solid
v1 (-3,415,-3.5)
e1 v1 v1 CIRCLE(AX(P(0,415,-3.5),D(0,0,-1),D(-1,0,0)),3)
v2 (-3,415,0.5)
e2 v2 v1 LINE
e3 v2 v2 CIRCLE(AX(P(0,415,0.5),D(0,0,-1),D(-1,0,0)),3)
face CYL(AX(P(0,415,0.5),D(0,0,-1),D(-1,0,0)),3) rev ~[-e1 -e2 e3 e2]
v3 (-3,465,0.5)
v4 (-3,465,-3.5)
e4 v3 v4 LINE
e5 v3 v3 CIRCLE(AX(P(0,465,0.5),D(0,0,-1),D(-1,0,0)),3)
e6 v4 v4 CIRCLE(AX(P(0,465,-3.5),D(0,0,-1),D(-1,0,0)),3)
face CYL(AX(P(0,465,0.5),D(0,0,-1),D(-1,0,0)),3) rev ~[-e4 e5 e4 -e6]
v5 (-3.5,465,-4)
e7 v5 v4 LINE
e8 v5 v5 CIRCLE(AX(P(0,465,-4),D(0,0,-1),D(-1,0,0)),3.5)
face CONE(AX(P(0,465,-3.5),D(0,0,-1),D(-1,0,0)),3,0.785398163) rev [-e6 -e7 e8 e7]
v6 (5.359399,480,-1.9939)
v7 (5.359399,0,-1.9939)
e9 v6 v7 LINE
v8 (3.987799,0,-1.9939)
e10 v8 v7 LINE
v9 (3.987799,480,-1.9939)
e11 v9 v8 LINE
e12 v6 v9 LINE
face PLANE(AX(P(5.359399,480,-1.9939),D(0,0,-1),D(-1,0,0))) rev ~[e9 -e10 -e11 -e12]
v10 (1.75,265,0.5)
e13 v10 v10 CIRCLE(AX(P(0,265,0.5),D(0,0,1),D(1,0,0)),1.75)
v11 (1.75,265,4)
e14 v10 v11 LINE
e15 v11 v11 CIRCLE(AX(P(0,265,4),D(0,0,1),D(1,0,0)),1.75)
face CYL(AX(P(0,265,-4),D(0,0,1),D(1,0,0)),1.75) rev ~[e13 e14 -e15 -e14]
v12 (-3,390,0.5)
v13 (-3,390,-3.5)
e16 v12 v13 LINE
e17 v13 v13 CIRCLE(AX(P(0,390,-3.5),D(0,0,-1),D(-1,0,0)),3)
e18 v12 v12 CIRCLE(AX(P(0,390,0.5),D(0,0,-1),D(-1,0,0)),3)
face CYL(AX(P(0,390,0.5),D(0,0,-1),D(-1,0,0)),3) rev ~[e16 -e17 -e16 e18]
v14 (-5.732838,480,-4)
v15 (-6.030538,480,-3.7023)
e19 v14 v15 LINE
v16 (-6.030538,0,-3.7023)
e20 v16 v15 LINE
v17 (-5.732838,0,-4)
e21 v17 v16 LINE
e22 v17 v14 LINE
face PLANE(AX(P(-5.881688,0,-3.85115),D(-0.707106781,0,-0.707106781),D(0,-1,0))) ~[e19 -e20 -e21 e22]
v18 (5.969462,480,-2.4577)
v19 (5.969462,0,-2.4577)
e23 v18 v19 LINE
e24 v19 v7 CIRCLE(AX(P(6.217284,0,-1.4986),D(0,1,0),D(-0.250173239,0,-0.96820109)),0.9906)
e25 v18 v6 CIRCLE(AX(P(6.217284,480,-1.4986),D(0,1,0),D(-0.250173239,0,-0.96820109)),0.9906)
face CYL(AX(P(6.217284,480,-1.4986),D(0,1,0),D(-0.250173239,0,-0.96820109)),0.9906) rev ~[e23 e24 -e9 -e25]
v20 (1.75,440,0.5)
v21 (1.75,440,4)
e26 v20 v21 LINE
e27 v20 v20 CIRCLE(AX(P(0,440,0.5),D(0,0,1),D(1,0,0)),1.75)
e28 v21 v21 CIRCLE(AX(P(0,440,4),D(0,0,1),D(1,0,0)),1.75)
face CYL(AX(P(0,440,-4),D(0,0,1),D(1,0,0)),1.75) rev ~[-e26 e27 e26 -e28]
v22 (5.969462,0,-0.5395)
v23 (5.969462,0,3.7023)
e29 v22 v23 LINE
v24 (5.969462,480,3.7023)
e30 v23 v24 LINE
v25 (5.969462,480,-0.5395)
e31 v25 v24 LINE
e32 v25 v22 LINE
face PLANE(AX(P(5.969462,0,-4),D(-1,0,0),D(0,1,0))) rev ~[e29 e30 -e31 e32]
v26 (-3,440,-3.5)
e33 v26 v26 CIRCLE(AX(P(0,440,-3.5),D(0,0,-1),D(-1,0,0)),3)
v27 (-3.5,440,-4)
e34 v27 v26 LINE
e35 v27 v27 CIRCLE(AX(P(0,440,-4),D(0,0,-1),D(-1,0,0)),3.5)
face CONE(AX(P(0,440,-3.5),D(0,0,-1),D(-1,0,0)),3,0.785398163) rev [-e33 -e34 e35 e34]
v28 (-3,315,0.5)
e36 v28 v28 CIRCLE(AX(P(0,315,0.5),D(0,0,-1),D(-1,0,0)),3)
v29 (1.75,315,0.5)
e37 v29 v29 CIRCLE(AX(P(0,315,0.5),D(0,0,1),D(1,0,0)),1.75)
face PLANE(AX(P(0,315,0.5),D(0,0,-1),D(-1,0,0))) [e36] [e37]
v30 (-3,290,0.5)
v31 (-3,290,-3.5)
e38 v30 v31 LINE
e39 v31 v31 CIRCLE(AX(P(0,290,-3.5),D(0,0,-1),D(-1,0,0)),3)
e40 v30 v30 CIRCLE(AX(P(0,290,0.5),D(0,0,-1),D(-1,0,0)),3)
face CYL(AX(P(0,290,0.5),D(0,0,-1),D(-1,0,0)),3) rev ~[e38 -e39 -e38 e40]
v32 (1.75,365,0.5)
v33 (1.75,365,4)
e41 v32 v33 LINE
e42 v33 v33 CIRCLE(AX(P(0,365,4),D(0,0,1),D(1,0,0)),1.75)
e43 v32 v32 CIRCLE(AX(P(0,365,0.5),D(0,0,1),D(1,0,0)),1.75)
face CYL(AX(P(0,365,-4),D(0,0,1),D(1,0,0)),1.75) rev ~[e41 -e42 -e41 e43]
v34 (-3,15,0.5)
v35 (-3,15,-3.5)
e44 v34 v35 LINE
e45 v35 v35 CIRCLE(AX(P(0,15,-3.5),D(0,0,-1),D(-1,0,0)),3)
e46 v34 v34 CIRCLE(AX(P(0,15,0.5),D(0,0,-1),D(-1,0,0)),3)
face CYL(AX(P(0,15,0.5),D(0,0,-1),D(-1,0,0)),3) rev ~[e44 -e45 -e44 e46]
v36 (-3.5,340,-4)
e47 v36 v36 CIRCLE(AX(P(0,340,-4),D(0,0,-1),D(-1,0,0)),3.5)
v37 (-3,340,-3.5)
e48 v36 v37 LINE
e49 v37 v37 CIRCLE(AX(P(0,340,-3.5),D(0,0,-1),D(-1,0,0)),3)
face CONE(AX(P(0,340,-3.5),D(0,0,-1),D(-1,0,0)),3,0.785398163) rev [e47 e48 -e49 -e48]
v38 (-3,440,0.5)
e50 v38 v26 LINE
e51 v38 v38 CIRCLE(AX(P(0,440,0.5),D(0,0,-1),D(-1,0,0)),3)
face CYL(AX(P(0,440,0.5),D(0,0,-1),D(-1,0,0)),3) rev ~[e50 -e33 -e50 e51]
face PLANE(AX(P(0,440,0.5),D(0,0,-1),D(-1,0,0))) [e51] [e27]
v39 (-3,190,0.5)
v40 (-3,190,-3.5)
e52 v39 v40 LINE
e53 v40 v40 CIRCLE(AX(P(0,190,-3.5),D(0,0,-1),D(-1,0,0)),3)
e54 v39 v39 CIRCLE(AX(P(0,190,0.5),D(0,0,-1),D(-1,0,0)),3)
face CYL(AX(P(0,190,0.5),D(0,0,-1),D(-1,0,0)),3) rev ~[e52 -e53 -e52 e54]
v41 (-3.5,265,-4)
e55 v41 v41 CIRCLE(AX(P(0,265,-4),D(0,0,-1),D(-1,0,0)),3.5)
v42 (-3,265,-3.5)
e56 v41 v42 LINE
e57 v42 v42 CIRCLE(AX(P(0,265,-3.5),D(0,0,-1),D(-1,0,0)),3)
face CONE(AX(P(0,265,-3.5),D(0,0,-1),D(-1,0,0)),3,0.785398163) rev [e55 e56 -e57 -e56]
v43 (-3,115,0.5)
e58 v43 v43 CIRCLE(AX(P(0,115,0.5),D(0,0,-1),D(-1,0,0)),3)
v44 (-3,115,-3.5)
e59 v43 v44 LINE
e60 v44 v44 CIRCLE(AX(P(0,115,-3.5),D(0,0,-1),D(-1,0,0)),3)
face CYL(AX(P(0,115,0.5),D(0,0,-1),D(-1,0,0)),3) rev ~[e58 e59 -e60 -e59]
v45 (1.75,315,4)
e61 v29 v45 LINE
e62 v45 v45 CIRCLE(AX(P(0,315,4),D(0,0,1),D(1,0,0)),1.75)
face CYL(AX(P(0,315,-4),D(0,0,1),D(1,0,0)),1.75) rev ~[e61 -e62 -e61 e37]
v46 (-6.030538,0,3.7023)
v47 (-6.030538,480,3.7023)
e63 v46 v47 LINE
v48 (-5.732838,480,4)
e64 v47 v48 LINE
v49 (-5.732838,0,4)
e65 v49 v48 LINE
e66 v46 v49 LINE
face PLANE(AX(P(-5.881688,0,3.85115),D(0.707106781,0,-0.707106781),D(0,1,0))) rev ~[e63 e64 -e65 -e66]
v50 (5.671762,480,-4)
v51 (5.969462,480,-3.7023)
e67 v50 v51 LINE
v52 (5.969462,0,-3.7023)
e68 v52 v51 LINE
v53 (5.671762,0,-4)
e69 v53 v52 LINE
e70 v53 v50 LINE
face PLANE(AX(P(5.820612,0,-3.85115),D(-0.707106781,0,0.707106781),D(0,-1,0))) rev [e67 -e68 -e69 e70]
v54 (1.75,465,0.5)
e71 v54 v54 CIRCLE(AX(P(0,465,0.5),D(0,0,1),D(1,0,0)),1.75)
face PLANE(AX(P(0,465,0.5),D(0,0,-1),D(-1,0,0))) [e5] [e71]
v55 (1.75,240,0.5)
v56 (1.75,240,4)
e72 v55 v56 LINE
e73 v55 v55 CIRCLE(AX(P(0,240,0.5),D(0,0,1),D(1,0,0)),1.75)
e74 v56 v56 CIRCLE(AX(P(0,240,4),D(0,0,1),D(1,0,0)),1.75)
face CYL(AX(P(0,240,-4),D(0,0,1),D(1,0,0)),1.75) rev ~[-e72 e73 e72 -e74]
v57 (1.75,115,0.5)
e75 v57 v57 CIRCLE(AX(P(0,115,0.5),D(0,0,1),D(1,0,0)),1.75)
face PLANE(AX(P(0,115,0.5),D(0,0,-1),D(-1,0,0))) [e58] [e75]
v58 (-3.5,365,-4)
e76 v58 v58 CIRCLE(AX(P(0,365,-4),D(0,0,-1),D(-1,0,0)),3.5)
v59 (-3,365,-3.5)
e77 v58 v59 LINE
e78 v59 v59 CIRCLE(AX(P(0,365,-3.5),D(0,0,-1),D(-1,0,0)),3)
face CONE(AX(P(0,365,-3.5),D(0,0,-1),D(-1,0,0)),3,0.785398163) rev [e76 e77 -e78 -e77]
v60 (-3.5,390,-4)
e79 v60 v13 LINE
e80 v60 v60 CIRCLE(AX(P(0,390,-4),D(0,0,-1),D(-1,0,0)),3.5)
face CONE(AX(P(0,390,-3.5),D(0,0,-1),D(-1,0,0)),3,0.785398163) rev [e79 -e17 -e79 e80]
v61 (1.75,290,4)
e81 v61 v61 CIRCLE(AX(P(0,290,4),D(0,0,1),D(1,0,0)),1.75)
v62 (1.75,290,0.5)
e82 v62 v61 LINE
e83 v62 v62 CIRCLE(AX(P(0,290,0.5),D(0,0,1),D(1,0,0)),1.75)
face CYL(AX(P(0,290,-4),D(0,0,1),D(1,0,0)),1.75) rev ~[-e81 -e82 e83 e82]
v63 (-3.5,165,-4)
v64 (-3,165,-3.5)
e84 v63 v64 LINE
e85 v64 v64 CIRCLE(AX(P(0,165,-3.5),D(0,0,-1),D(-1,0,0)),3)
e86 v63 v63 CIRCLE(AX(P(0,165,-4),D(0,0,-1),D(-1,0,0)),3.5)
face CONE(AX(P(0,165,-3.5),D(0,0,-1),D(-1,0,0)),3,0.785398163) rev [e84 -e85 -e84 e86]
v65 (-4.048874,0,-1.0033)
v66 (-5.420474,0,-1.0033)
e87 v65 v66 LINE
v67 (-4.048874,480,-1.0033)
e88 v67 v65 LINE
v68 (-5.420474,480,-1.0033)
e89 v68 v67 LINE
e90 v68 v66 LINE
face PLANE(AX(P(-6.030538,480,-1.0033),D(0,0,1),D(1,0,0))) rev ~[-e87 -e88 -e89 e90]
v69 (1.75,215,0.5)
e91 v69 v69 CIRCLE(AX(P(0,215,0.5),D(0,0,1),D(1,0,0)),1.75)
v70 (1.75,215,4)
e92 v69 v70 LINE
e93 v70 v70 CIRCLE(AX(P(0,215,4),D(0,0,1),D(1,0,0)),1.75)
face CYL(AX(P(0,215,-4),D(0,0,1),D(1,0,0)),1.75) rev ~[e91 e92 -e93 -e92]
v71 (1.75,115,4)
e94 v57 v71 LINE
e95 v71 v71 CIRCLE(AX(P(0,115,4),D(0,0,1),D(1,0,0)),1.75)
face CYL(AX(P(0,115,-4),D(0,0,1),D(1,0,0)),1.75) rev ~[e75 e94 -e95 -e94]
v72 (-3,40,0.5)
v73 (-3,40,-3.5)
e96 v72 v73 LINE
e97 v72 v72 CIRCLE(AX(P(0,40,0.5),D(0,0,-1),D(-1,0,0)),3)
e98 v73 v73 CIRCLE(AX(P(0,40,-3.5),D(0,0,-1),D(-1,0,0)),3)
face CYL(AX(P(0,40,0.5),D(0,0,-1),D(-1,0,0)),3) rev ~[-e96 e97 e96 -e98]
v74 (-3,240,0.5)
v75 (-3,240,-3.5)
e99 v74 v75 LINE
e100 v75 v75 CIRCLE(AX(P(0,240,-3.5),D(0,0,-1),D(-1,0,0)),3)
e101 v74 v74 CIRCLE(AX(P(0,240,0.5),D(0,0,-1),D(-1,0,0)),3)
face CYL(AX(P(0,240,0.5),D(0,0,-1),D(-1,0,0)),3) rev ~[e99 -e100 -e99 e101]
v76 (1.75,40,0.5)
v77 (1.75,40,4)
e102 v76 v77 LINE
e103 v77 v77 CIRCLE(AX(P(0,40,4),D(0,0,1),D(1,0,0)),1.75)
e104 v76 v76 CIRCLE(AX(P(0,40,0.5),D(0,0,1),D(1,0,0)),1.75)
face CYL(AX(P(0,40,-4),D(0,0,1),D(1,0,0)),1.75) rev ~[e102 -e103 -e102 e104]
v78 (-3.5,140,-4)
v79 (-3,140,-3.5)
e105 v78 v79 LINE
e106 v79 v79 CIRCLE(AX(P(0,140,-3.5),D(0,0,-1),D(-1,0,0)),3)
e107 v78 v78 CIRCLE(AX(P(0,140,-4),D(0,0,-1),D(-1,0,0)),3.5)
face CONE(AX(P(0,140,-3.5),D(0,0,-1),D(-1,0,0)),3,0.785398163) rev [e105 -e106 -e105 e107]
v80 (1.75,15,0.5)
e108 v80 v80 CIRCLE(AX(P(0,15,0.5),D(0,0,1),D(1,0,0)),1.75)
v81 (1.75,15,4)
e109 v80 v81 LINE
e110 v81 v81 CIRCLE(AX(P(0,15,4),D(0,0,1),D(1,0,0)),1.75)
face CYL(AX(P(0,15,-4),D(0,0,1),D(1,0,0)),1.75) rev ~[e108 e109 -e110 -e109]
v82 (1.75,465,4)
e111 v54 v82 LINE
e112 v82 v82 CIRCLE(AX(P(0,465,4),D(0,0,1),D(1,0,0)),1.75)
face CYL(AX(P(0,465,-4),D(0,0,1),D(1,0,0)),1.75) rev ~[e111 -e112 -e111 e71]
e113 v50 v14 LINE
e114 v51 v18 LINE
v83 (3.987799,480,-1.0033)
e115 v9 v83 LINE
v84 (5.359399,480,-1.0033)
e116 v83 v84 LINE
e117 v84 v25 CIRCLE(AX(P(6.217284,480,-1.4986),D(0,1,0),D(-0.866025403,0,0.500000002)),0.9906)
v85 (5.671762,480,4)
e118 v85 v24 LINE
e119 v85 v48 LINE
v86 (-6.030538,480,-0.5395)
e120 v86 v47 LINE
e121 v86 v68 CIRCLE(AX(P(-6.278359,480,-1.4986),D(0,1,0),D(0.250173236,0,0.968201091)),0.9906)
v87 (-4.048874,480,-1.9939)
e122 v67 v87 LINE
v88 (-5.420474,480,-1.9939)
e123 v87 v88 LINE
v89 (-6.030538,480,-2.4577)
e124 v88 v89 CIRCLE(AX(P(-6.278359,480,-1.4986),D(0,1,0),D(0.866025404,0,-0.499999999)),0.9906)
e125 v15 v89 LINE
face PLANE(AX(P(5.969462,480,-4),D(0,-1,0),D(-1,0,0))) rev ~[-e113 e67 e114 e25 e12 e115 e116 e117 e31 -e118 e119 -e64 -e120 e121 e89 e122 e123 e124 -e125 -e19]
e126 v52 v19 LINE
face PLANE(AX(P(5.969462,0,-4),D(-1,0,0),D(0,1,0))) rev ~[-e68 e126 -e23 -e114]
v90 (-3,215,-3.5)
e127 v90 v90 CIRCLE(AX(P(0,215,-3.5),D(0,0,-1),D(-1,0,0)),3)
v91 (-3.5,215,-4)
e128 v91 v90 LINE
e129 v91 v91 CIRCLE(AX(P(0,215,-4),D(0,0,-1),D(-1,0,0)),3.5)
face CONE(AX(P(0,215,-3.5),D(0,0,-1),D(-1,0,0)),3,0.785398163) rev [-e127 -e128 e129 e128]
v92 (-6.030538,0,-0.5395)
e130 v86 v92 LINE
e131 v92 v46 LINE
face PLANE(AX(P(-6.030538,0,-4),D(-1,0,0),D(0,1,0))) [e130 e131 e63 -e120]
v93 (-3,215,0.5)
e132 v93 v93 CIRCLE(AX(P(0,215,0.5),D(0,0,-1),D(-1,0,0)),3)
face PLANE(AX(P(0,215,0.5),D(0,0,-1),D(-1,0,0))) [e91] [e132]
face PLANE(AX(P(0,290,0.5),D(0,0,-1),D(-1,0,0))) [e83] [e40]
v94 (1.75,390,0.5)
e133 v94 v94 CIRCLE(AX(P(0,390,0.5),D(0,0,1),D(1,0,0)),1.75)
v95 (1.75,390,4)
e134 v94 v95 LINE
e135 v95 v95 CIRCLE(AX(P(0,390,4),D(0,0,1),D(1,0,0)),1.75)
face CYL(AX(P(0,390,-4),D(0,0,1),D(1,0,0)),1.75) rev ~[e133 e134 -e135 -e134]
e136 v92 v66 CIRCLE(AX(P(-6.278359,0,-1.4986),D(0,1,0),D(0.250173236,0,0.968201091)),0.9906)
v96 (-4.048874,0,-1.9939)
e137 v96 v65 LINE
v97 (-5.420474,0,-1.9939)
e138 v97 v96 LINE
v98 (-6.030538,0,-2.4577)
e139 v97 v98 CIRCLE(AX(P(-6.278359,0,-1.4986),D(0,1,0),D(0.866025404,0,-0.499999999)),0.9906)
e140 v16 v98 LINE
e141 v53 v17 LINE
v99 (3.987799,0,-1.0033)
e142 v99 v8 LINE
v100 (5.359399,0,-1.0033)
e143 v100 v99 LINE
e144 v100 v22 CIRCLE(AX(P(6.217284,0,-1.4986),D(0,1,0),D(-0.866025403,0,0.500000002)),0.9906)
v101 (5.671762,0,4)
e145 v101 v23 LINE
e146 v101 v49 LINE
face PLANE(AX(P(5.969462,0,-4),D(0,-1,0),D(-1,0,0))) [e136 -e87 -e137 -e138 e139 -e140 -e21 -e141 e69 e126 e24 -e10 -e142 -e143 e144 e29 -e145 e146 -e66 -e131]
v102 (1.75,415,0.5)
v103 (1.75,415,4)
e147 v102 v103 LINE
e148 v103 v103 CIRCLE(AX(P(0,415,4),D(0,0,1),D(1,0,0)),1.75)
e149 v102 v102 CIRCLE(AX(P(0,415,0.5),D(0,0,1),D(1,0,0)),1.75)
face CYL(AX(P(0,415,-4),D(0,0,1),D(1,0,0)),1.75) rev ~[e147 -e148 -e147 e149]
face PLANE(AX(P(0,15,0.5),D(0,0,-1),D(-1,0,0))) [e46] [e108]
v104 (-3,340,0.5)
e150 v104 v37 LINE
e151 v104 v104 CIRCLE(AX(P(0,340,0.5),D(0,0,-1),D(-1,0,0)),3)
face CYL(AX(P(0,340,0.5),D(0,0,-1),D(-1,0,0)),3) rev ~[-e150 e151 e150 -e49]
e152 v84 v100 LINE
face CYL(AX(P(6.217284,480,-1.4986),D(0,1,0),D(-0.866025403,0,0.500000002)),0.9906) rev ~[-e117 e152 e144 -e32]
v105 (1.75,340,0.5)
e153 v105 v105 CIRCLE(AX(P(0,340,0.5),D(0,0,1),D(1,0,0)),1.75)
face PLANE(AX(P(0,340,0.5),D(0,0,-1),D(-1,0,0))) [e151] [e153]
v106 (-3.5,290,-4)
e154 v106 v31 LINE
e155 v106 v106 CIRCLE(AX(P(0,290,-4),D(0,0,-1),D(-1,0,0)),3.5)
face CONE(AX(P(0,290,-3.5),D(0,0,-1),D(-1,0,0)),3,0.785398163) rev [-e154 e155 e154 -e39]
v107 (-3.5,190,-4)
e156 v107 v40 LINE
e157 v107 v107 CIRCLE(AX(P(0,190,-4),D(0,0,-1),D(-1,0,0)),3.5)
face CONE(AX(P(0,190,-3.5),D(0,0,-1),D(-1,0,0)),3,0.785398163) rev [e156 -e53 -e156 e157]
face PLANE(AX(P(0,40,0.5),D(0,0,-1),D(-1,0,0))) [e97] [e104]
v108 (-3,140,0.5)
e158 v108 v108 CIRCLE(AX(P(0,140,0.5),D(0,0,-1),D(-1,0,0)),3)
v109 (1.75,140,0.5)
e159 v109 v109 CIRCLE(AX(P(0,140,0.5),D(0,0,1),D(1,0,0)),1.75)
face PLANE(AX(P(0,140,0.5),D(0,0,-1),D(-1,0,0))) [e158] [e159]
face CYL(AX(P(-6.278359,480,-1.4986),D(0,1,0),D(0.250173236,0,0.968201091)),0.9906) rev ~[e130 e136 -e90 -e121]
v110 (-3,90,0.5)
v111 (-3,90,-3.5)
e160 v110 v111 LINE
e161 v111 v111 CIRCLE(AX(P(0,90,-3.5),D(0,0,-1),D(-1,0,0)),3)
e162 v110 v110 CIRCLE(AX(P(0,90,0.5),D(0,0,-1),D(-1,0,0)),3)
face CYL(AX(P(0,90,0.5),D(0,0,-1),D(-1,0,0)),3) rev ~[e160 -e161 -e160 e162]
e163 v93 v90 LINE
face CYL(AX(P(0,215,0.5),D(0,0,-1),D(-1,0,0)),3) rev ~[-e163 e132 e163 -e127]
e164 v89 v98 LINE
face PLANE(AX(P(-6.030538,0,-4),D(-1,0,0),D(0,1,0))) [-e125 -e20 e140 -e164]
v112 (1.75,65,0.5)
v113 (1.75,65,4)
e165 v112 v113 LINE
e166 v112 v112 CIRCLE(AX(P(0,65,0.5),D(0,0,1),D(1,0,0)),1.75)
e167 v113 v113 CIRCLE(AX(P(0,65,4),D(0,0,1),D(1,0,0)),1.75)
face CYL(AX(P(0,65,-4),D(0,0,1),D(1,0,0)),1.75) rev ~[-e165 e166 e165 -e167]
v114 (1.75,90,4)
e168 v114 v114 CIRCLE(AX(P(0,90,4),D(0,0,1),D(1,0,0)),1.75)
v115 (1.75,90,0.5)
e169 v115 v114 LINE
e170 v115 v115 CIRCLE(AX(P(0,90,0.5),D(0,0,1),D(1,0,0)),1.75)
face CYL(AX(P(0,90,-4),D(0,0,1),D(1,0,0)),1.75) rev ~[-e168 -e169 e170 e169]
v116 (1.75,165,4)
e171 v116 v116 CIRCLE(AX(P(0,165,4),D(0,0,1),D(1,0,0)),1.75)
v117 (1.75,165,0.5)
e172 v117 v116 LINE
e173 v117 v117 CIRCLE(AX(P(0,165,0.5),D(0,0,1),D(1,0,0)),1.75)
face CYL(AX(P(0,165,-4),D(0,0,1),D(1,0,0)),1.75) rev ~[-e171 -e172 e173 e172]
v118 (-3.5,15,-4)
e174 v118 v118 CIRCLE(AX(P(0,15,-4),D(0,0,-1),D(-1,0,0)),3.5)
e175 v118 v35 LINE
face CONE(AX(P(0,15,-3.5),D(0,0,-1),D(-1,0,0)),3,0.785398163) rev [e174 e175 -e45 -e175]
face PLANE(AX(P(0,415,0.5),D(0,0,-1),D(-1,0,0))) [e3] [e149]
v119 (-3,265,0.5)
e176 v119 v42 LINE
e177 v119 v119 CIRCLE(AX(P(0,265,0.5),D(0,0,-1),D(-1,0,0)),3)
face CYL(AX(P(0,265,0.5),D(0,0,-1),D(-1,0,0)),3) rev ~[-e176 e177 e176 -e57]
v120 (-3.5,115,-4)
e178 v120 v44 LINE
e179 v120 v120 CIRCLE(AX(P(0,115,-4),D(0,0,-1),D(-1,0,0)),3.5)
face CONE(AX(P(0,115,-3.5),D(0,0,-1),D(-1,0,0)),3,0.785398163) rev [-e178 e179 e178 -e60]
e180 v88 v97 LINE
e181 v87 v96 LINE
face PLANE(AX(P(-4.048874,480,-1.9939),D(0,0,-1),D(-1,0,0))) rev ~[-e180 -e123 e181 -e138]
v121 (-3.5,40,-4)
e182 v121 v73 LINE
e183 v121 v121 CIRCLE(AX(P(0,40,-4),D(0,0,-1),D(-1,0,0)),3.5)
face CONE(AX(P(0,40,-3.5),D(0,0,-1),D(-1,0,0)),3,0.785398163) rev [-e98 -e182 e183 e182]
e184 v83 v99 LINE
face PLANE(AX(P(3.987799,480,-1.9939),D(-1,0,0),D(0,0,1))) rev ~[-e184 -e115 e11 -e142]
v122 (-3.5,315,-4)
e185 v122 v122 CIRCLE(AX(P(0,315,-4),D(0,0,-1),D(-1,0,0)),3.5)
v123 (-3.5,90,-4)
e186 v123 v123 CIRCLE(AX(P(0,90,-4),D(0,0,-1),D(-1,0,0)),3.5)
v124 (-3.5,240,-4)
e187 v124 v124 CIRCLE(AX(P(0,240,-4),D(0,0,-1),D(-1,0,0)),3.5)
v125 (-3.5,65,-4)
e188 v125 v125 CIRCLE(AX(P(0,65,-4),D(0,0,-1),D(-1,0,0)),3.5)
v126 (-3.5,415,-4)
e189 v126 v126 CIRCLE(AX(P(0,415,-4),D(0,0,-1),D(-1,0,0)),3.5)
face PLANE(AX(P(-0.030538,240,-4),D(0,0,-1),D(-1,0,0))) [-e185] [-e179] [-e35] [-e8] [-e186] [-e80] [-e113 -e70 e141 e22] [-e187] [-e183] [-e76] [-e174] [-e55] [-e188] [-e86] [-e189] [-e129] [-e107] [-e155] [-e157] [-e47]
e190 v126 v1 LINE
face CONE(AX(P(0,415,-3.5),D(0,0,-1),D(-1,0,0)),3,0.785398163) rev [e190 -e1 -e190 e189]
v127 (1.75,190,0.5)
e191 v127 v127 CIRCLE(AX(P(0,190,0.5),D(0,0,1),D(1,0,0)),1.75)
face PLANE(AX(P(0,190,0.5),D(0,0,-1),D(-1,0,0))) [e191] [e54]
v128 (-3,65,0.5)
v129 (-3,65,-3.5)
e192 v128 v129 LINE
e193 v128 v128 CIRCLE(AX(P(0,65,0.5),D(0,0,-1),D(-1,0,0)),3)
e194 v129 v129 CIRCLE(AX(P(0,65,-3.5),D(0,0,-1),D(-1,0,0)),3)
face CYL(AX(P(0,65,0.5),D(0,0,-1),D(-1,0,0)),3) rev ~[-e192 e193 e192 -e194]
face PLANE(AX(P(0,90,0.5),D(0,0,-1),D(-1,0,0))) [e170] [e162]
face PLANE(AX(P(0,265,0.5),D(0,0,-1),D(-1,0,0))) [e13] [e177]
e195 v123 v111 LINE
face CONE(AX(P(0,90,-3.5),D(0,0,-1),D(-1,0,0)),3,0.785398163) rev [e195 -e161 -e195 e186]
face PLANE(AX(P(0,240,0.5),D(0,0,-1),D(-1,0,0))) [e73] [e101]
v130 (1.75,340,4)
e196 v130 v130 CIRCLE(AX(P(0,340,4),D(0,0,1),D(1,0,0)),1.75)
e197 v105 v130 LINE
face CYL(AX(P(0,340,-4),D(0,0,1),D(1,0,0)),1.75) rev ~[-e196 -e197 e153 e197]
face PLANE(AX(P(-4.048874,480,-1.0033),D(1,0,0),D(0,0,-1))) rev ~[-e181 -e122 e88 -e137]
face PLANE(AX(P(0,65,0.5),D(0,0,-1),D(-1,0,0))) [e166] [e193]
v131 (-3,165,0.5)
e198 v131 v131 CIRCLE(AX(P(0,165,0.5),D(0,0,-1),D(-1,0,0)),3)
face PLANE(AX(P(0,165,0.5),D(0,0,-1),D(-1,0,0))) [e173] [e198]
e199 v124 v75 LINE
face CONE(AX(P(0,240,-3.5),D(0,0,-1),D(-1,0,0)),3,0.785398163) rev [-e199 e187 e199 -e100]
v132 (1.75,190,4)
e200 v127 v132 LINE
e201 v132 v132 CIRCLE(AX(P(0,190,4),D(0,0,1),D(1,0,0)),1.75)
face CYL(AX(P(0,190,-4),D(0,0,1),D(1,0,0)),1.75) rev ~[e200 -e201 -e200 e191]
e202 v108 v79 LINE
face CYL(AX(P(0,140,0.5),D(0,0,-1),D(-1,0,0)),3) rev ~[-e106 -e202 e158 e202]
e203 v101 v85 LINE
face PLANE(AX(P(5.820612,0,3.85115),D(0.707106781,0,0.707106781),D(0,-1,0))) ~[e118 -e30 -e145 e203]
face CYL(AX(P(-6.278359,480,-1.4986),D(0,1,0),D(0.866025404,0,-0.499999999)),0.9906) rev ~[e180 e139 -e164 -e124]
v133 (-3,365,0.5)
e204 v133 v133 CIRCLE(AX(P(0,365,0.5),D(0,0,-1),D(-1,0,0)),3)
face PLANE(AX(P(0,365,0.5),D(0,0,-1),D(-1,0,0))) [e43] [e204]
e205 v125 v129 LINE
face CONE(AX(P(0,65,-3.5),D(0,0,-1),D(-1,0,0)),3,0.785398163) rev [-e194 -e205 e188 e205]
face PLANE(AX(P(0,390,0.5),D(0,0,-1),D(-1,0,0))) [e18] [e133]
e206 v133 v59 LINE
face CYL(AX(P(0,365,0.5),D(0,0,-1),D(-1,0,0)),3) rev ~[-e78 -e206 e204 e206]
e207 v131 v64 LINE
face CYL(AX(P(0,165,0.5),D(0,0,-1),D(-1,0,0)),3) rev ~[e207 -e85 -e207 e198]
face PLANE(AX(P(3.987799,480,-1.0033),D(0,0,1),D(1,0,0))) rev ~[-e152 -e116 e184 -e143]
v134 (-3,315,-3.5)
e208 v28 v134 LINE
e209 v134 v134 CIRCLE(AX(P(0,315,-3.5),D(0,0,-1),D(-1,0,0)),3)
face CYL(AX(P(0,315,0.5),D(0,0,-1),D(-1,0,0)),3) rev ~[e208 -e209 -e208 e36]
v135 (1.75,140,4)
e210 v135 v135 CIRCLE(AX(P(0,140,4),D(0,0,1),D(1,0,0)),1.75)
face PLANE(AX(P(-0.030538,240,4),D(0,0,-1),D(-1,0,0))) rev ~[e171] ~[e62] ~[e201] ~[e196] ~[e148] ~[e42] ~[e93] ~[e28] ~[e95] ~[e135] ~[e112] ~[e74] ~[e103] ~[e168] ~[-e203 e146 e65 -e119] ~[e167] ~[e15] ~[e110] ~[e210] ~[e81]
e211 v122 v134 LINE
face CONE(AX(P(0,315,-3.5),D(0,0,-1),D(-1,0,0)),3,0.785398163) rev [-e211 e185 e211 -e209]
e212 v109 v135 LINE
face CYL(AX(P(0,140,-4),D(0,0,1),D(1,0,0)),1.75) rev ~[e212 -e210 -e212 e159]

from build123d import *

# Parameters (mm, degrees)
SKETCH1_W                                        = 12
SKETCH1_H                                        = 480
BOSS_EXTRUDE1_DEPTH                              = 8
CUT_EXTRUDE1_DEPTH                               = 481
CUT_EXTRUDE2_DEPTH                               = 481
CUT_EXTRUDE3_DEPTH                               = 481
CUT_EXTRUDE4_DEPTH                               = 481
CBORE_FOR_M3_HEX_HEAD_MACHINE_SCREW1_D           = 3.5
CBORE_FOR_M3_HEX_HEAD_MACHINE_SCREW1_DEPTH       = 8
CBORE_FOR_M3_HEX_HEAD_MACHINE_SCREW1_CBORE_D     = 6
CBORE_FOR_M3_HEX_HEAD_MACHINE_SCREW1_CBORE_DEPTH = 4.5
CHAMFER1_SIZE                                    = 0.5
CHAMFER2_SIZE                                    = 0.2977


with BuildPart() as part:
    # Sketch1 → Boss-Extrude1 (new body)
    with BuildSketch(Plane(origin=(0, 0, -4), x_dir=(-1, 0, 0), z_dir=(0, 0, -1))):
        with Locations((0.030537514, 240)):
            Rectangle(SKETCH1_W, SKETCH1_H)
    extrude(amount=-BOSS_EXTRUDE1_DEPTH)

    # Sketch2 → Cut-Extrude1 (cut, through all)
    with BuildSketch(Plane(origin=(0, 480, 0), x_dir=(-1, 0, 0), z_dir=(0, 1, 0))):
        with BuildLine():
            Line((6.030537514, -2.4577), (6.030537514, -1.0033))
            Line((6.030537514, -1.0033), (4.048874358, -1.0033))
            Line((4.048874358, -1.0033), (4.048874358, -1.9939))
            Line((4.048874358, -1.9939), (5.420474358, -1.9939))
            ThreePointArc((5.420474358, -1.9939), (5.678839101, -2.287183606), (6.030537514, -2.4577))
        make_face()
    extrude(amount=-CUT_EXTRUDE1_DEPTH, mode=Mode.SUBTRACT)

    # Sketch3 → Cut-Extrude2 (cut, through all)
    with BuildSketch(Plane(origin=(0, 480, 0), x_dir=(-1, 0, 0), z_dir=(0, 1, 0))):
        with BuildLine():
            Line((-5.969462486, -1.0033), (-5.969462486, -2.4577))
            ThreePointArc((-5.969462486, -2.4577), (-5.617764074, -2.287183606), (-5.35939933, -1.9939))
            Line((-5.35939933, -1.9939), (-3.98779933, -1.9939))
            Line((-3.98779933, -1.9939), (-3.98779933, -1.0033))
            Line((-3.98779933, -1.0033), (-5.969462486, -1.0033))
        make_face()
    extrude(amount=-CUT_EXTRUDE2_DEPTH, mode=Mode.SUBTRACT)

    # Sketch4 → Cut-Extrude3 (cut, through all)
    with BuildSketch(Plane(origin=(0, 480, 0), x_dir=(-1, 0, 0), z_dir=(0, 1, 0))):
        with BuildLine():
            Line((-5.969462486, -1.0033), (-5.35939933, -1.0033))
            ThreePointArc((-5.35939933, -1.0033), (-5.617764074, -0.710016394), (-5.969462486, -0.5395))
            Line((-5.969462486, -0.5395), (-5.969462486, -1.0033))
        make_face()
    extrude(amount=-CUT_EXTRUDE3_DEPTH, mode=Mode.SUBTRACT)

    # Sketch5 → Cut-Extrude4 (cut, through all)
    with BuildSketch(Plane(origin=(0, 480, 0), x_dir=(-1, 0, 0), z_dir=(0, 1, 0))):
        with BuildLine():
            Line((6.030537514, -1.0033), (6.030537514, -0.5395))
            ThreePointArc((6.030537514, -0.5395), (5.678839101, -0.710016394), (5.420474358, -1.0033))
            Line((5.420474358, -1.0033), (6.030537514, -1.0033))
        make_face()
    extrude(amount=-CUT_EXTRUDE4_DEPTH, mode=Mode.SUBTRACT)

    # CBORE for M3 Hex Head Machine Screw1
    with Locations(Plane(origin=(0, 0, -4), x_dir=(-1, 0, 0), z_dir=(0, 0, -1))):
        with Locations((0, 465), (0, 440), (0, 415), (0, 390), (0, 365), (0, 340), (0, 315), (0, 290), (0, 265), (0, 240), (0, 215), (0, 190), (0, 165), (0, 140), (0, 115), (0, 90), (0, 65), (0, 40), (0, 15)):
            CounterBoreHole(CBORE_FOR_M3_HEX_HEAD_MACHINE_SCREW1_D / 2, CBORE_FOR_M3_HEX_HEAD_MACHINE_SCREW1_CBORE_D / 2, CBORE_FOR_M3_HEX_HEAD_MACHINE_SCREW1_CBORE_DEPTH, depth=CBORE_FOR_M3_HEX_HEAD_MACHINE_SCREW1_DEPTH)

    # Chamfer1
    chamfer1_edges = [part.edges().sort_by_distance(p)[0] for p in [
        (3, 65, -4),
        (3, 90, -4),
        (3, 115, -4),
        (3, 140, -4),
        (3, 165, -4),
        (3, 190, -4),
        (3, 215, -4),
        (3, 240, -4),
        (3, 265, -4),
        (3, 290, -4),
        (3, 315, -4),
        (3, 340, -4),
        (3, 365, -4),
        (3, 390, -4),
        (3, 415, -4),
        (3, 440, -4),
        (3, 465, -4),
        (3, 15, -4),
        (3, 40, -4),
    ]]
    chamfer(chamfer1_edges, length=CHAMFER1_SIZE)

    # Chamfer2
    chamfer2_edges = [part.edges().sort_by_distance(p)[0] for p in [
        (-6.030537514, 240, 4),
        (5.969462486, 240, 4),
        (-6.030537514, 240, -4),
        (5.969462486, 240, -4),
    ]]
    chamfer(chamfer2_edges, length=CHAMFER2_SIZE)


solid = part.part
